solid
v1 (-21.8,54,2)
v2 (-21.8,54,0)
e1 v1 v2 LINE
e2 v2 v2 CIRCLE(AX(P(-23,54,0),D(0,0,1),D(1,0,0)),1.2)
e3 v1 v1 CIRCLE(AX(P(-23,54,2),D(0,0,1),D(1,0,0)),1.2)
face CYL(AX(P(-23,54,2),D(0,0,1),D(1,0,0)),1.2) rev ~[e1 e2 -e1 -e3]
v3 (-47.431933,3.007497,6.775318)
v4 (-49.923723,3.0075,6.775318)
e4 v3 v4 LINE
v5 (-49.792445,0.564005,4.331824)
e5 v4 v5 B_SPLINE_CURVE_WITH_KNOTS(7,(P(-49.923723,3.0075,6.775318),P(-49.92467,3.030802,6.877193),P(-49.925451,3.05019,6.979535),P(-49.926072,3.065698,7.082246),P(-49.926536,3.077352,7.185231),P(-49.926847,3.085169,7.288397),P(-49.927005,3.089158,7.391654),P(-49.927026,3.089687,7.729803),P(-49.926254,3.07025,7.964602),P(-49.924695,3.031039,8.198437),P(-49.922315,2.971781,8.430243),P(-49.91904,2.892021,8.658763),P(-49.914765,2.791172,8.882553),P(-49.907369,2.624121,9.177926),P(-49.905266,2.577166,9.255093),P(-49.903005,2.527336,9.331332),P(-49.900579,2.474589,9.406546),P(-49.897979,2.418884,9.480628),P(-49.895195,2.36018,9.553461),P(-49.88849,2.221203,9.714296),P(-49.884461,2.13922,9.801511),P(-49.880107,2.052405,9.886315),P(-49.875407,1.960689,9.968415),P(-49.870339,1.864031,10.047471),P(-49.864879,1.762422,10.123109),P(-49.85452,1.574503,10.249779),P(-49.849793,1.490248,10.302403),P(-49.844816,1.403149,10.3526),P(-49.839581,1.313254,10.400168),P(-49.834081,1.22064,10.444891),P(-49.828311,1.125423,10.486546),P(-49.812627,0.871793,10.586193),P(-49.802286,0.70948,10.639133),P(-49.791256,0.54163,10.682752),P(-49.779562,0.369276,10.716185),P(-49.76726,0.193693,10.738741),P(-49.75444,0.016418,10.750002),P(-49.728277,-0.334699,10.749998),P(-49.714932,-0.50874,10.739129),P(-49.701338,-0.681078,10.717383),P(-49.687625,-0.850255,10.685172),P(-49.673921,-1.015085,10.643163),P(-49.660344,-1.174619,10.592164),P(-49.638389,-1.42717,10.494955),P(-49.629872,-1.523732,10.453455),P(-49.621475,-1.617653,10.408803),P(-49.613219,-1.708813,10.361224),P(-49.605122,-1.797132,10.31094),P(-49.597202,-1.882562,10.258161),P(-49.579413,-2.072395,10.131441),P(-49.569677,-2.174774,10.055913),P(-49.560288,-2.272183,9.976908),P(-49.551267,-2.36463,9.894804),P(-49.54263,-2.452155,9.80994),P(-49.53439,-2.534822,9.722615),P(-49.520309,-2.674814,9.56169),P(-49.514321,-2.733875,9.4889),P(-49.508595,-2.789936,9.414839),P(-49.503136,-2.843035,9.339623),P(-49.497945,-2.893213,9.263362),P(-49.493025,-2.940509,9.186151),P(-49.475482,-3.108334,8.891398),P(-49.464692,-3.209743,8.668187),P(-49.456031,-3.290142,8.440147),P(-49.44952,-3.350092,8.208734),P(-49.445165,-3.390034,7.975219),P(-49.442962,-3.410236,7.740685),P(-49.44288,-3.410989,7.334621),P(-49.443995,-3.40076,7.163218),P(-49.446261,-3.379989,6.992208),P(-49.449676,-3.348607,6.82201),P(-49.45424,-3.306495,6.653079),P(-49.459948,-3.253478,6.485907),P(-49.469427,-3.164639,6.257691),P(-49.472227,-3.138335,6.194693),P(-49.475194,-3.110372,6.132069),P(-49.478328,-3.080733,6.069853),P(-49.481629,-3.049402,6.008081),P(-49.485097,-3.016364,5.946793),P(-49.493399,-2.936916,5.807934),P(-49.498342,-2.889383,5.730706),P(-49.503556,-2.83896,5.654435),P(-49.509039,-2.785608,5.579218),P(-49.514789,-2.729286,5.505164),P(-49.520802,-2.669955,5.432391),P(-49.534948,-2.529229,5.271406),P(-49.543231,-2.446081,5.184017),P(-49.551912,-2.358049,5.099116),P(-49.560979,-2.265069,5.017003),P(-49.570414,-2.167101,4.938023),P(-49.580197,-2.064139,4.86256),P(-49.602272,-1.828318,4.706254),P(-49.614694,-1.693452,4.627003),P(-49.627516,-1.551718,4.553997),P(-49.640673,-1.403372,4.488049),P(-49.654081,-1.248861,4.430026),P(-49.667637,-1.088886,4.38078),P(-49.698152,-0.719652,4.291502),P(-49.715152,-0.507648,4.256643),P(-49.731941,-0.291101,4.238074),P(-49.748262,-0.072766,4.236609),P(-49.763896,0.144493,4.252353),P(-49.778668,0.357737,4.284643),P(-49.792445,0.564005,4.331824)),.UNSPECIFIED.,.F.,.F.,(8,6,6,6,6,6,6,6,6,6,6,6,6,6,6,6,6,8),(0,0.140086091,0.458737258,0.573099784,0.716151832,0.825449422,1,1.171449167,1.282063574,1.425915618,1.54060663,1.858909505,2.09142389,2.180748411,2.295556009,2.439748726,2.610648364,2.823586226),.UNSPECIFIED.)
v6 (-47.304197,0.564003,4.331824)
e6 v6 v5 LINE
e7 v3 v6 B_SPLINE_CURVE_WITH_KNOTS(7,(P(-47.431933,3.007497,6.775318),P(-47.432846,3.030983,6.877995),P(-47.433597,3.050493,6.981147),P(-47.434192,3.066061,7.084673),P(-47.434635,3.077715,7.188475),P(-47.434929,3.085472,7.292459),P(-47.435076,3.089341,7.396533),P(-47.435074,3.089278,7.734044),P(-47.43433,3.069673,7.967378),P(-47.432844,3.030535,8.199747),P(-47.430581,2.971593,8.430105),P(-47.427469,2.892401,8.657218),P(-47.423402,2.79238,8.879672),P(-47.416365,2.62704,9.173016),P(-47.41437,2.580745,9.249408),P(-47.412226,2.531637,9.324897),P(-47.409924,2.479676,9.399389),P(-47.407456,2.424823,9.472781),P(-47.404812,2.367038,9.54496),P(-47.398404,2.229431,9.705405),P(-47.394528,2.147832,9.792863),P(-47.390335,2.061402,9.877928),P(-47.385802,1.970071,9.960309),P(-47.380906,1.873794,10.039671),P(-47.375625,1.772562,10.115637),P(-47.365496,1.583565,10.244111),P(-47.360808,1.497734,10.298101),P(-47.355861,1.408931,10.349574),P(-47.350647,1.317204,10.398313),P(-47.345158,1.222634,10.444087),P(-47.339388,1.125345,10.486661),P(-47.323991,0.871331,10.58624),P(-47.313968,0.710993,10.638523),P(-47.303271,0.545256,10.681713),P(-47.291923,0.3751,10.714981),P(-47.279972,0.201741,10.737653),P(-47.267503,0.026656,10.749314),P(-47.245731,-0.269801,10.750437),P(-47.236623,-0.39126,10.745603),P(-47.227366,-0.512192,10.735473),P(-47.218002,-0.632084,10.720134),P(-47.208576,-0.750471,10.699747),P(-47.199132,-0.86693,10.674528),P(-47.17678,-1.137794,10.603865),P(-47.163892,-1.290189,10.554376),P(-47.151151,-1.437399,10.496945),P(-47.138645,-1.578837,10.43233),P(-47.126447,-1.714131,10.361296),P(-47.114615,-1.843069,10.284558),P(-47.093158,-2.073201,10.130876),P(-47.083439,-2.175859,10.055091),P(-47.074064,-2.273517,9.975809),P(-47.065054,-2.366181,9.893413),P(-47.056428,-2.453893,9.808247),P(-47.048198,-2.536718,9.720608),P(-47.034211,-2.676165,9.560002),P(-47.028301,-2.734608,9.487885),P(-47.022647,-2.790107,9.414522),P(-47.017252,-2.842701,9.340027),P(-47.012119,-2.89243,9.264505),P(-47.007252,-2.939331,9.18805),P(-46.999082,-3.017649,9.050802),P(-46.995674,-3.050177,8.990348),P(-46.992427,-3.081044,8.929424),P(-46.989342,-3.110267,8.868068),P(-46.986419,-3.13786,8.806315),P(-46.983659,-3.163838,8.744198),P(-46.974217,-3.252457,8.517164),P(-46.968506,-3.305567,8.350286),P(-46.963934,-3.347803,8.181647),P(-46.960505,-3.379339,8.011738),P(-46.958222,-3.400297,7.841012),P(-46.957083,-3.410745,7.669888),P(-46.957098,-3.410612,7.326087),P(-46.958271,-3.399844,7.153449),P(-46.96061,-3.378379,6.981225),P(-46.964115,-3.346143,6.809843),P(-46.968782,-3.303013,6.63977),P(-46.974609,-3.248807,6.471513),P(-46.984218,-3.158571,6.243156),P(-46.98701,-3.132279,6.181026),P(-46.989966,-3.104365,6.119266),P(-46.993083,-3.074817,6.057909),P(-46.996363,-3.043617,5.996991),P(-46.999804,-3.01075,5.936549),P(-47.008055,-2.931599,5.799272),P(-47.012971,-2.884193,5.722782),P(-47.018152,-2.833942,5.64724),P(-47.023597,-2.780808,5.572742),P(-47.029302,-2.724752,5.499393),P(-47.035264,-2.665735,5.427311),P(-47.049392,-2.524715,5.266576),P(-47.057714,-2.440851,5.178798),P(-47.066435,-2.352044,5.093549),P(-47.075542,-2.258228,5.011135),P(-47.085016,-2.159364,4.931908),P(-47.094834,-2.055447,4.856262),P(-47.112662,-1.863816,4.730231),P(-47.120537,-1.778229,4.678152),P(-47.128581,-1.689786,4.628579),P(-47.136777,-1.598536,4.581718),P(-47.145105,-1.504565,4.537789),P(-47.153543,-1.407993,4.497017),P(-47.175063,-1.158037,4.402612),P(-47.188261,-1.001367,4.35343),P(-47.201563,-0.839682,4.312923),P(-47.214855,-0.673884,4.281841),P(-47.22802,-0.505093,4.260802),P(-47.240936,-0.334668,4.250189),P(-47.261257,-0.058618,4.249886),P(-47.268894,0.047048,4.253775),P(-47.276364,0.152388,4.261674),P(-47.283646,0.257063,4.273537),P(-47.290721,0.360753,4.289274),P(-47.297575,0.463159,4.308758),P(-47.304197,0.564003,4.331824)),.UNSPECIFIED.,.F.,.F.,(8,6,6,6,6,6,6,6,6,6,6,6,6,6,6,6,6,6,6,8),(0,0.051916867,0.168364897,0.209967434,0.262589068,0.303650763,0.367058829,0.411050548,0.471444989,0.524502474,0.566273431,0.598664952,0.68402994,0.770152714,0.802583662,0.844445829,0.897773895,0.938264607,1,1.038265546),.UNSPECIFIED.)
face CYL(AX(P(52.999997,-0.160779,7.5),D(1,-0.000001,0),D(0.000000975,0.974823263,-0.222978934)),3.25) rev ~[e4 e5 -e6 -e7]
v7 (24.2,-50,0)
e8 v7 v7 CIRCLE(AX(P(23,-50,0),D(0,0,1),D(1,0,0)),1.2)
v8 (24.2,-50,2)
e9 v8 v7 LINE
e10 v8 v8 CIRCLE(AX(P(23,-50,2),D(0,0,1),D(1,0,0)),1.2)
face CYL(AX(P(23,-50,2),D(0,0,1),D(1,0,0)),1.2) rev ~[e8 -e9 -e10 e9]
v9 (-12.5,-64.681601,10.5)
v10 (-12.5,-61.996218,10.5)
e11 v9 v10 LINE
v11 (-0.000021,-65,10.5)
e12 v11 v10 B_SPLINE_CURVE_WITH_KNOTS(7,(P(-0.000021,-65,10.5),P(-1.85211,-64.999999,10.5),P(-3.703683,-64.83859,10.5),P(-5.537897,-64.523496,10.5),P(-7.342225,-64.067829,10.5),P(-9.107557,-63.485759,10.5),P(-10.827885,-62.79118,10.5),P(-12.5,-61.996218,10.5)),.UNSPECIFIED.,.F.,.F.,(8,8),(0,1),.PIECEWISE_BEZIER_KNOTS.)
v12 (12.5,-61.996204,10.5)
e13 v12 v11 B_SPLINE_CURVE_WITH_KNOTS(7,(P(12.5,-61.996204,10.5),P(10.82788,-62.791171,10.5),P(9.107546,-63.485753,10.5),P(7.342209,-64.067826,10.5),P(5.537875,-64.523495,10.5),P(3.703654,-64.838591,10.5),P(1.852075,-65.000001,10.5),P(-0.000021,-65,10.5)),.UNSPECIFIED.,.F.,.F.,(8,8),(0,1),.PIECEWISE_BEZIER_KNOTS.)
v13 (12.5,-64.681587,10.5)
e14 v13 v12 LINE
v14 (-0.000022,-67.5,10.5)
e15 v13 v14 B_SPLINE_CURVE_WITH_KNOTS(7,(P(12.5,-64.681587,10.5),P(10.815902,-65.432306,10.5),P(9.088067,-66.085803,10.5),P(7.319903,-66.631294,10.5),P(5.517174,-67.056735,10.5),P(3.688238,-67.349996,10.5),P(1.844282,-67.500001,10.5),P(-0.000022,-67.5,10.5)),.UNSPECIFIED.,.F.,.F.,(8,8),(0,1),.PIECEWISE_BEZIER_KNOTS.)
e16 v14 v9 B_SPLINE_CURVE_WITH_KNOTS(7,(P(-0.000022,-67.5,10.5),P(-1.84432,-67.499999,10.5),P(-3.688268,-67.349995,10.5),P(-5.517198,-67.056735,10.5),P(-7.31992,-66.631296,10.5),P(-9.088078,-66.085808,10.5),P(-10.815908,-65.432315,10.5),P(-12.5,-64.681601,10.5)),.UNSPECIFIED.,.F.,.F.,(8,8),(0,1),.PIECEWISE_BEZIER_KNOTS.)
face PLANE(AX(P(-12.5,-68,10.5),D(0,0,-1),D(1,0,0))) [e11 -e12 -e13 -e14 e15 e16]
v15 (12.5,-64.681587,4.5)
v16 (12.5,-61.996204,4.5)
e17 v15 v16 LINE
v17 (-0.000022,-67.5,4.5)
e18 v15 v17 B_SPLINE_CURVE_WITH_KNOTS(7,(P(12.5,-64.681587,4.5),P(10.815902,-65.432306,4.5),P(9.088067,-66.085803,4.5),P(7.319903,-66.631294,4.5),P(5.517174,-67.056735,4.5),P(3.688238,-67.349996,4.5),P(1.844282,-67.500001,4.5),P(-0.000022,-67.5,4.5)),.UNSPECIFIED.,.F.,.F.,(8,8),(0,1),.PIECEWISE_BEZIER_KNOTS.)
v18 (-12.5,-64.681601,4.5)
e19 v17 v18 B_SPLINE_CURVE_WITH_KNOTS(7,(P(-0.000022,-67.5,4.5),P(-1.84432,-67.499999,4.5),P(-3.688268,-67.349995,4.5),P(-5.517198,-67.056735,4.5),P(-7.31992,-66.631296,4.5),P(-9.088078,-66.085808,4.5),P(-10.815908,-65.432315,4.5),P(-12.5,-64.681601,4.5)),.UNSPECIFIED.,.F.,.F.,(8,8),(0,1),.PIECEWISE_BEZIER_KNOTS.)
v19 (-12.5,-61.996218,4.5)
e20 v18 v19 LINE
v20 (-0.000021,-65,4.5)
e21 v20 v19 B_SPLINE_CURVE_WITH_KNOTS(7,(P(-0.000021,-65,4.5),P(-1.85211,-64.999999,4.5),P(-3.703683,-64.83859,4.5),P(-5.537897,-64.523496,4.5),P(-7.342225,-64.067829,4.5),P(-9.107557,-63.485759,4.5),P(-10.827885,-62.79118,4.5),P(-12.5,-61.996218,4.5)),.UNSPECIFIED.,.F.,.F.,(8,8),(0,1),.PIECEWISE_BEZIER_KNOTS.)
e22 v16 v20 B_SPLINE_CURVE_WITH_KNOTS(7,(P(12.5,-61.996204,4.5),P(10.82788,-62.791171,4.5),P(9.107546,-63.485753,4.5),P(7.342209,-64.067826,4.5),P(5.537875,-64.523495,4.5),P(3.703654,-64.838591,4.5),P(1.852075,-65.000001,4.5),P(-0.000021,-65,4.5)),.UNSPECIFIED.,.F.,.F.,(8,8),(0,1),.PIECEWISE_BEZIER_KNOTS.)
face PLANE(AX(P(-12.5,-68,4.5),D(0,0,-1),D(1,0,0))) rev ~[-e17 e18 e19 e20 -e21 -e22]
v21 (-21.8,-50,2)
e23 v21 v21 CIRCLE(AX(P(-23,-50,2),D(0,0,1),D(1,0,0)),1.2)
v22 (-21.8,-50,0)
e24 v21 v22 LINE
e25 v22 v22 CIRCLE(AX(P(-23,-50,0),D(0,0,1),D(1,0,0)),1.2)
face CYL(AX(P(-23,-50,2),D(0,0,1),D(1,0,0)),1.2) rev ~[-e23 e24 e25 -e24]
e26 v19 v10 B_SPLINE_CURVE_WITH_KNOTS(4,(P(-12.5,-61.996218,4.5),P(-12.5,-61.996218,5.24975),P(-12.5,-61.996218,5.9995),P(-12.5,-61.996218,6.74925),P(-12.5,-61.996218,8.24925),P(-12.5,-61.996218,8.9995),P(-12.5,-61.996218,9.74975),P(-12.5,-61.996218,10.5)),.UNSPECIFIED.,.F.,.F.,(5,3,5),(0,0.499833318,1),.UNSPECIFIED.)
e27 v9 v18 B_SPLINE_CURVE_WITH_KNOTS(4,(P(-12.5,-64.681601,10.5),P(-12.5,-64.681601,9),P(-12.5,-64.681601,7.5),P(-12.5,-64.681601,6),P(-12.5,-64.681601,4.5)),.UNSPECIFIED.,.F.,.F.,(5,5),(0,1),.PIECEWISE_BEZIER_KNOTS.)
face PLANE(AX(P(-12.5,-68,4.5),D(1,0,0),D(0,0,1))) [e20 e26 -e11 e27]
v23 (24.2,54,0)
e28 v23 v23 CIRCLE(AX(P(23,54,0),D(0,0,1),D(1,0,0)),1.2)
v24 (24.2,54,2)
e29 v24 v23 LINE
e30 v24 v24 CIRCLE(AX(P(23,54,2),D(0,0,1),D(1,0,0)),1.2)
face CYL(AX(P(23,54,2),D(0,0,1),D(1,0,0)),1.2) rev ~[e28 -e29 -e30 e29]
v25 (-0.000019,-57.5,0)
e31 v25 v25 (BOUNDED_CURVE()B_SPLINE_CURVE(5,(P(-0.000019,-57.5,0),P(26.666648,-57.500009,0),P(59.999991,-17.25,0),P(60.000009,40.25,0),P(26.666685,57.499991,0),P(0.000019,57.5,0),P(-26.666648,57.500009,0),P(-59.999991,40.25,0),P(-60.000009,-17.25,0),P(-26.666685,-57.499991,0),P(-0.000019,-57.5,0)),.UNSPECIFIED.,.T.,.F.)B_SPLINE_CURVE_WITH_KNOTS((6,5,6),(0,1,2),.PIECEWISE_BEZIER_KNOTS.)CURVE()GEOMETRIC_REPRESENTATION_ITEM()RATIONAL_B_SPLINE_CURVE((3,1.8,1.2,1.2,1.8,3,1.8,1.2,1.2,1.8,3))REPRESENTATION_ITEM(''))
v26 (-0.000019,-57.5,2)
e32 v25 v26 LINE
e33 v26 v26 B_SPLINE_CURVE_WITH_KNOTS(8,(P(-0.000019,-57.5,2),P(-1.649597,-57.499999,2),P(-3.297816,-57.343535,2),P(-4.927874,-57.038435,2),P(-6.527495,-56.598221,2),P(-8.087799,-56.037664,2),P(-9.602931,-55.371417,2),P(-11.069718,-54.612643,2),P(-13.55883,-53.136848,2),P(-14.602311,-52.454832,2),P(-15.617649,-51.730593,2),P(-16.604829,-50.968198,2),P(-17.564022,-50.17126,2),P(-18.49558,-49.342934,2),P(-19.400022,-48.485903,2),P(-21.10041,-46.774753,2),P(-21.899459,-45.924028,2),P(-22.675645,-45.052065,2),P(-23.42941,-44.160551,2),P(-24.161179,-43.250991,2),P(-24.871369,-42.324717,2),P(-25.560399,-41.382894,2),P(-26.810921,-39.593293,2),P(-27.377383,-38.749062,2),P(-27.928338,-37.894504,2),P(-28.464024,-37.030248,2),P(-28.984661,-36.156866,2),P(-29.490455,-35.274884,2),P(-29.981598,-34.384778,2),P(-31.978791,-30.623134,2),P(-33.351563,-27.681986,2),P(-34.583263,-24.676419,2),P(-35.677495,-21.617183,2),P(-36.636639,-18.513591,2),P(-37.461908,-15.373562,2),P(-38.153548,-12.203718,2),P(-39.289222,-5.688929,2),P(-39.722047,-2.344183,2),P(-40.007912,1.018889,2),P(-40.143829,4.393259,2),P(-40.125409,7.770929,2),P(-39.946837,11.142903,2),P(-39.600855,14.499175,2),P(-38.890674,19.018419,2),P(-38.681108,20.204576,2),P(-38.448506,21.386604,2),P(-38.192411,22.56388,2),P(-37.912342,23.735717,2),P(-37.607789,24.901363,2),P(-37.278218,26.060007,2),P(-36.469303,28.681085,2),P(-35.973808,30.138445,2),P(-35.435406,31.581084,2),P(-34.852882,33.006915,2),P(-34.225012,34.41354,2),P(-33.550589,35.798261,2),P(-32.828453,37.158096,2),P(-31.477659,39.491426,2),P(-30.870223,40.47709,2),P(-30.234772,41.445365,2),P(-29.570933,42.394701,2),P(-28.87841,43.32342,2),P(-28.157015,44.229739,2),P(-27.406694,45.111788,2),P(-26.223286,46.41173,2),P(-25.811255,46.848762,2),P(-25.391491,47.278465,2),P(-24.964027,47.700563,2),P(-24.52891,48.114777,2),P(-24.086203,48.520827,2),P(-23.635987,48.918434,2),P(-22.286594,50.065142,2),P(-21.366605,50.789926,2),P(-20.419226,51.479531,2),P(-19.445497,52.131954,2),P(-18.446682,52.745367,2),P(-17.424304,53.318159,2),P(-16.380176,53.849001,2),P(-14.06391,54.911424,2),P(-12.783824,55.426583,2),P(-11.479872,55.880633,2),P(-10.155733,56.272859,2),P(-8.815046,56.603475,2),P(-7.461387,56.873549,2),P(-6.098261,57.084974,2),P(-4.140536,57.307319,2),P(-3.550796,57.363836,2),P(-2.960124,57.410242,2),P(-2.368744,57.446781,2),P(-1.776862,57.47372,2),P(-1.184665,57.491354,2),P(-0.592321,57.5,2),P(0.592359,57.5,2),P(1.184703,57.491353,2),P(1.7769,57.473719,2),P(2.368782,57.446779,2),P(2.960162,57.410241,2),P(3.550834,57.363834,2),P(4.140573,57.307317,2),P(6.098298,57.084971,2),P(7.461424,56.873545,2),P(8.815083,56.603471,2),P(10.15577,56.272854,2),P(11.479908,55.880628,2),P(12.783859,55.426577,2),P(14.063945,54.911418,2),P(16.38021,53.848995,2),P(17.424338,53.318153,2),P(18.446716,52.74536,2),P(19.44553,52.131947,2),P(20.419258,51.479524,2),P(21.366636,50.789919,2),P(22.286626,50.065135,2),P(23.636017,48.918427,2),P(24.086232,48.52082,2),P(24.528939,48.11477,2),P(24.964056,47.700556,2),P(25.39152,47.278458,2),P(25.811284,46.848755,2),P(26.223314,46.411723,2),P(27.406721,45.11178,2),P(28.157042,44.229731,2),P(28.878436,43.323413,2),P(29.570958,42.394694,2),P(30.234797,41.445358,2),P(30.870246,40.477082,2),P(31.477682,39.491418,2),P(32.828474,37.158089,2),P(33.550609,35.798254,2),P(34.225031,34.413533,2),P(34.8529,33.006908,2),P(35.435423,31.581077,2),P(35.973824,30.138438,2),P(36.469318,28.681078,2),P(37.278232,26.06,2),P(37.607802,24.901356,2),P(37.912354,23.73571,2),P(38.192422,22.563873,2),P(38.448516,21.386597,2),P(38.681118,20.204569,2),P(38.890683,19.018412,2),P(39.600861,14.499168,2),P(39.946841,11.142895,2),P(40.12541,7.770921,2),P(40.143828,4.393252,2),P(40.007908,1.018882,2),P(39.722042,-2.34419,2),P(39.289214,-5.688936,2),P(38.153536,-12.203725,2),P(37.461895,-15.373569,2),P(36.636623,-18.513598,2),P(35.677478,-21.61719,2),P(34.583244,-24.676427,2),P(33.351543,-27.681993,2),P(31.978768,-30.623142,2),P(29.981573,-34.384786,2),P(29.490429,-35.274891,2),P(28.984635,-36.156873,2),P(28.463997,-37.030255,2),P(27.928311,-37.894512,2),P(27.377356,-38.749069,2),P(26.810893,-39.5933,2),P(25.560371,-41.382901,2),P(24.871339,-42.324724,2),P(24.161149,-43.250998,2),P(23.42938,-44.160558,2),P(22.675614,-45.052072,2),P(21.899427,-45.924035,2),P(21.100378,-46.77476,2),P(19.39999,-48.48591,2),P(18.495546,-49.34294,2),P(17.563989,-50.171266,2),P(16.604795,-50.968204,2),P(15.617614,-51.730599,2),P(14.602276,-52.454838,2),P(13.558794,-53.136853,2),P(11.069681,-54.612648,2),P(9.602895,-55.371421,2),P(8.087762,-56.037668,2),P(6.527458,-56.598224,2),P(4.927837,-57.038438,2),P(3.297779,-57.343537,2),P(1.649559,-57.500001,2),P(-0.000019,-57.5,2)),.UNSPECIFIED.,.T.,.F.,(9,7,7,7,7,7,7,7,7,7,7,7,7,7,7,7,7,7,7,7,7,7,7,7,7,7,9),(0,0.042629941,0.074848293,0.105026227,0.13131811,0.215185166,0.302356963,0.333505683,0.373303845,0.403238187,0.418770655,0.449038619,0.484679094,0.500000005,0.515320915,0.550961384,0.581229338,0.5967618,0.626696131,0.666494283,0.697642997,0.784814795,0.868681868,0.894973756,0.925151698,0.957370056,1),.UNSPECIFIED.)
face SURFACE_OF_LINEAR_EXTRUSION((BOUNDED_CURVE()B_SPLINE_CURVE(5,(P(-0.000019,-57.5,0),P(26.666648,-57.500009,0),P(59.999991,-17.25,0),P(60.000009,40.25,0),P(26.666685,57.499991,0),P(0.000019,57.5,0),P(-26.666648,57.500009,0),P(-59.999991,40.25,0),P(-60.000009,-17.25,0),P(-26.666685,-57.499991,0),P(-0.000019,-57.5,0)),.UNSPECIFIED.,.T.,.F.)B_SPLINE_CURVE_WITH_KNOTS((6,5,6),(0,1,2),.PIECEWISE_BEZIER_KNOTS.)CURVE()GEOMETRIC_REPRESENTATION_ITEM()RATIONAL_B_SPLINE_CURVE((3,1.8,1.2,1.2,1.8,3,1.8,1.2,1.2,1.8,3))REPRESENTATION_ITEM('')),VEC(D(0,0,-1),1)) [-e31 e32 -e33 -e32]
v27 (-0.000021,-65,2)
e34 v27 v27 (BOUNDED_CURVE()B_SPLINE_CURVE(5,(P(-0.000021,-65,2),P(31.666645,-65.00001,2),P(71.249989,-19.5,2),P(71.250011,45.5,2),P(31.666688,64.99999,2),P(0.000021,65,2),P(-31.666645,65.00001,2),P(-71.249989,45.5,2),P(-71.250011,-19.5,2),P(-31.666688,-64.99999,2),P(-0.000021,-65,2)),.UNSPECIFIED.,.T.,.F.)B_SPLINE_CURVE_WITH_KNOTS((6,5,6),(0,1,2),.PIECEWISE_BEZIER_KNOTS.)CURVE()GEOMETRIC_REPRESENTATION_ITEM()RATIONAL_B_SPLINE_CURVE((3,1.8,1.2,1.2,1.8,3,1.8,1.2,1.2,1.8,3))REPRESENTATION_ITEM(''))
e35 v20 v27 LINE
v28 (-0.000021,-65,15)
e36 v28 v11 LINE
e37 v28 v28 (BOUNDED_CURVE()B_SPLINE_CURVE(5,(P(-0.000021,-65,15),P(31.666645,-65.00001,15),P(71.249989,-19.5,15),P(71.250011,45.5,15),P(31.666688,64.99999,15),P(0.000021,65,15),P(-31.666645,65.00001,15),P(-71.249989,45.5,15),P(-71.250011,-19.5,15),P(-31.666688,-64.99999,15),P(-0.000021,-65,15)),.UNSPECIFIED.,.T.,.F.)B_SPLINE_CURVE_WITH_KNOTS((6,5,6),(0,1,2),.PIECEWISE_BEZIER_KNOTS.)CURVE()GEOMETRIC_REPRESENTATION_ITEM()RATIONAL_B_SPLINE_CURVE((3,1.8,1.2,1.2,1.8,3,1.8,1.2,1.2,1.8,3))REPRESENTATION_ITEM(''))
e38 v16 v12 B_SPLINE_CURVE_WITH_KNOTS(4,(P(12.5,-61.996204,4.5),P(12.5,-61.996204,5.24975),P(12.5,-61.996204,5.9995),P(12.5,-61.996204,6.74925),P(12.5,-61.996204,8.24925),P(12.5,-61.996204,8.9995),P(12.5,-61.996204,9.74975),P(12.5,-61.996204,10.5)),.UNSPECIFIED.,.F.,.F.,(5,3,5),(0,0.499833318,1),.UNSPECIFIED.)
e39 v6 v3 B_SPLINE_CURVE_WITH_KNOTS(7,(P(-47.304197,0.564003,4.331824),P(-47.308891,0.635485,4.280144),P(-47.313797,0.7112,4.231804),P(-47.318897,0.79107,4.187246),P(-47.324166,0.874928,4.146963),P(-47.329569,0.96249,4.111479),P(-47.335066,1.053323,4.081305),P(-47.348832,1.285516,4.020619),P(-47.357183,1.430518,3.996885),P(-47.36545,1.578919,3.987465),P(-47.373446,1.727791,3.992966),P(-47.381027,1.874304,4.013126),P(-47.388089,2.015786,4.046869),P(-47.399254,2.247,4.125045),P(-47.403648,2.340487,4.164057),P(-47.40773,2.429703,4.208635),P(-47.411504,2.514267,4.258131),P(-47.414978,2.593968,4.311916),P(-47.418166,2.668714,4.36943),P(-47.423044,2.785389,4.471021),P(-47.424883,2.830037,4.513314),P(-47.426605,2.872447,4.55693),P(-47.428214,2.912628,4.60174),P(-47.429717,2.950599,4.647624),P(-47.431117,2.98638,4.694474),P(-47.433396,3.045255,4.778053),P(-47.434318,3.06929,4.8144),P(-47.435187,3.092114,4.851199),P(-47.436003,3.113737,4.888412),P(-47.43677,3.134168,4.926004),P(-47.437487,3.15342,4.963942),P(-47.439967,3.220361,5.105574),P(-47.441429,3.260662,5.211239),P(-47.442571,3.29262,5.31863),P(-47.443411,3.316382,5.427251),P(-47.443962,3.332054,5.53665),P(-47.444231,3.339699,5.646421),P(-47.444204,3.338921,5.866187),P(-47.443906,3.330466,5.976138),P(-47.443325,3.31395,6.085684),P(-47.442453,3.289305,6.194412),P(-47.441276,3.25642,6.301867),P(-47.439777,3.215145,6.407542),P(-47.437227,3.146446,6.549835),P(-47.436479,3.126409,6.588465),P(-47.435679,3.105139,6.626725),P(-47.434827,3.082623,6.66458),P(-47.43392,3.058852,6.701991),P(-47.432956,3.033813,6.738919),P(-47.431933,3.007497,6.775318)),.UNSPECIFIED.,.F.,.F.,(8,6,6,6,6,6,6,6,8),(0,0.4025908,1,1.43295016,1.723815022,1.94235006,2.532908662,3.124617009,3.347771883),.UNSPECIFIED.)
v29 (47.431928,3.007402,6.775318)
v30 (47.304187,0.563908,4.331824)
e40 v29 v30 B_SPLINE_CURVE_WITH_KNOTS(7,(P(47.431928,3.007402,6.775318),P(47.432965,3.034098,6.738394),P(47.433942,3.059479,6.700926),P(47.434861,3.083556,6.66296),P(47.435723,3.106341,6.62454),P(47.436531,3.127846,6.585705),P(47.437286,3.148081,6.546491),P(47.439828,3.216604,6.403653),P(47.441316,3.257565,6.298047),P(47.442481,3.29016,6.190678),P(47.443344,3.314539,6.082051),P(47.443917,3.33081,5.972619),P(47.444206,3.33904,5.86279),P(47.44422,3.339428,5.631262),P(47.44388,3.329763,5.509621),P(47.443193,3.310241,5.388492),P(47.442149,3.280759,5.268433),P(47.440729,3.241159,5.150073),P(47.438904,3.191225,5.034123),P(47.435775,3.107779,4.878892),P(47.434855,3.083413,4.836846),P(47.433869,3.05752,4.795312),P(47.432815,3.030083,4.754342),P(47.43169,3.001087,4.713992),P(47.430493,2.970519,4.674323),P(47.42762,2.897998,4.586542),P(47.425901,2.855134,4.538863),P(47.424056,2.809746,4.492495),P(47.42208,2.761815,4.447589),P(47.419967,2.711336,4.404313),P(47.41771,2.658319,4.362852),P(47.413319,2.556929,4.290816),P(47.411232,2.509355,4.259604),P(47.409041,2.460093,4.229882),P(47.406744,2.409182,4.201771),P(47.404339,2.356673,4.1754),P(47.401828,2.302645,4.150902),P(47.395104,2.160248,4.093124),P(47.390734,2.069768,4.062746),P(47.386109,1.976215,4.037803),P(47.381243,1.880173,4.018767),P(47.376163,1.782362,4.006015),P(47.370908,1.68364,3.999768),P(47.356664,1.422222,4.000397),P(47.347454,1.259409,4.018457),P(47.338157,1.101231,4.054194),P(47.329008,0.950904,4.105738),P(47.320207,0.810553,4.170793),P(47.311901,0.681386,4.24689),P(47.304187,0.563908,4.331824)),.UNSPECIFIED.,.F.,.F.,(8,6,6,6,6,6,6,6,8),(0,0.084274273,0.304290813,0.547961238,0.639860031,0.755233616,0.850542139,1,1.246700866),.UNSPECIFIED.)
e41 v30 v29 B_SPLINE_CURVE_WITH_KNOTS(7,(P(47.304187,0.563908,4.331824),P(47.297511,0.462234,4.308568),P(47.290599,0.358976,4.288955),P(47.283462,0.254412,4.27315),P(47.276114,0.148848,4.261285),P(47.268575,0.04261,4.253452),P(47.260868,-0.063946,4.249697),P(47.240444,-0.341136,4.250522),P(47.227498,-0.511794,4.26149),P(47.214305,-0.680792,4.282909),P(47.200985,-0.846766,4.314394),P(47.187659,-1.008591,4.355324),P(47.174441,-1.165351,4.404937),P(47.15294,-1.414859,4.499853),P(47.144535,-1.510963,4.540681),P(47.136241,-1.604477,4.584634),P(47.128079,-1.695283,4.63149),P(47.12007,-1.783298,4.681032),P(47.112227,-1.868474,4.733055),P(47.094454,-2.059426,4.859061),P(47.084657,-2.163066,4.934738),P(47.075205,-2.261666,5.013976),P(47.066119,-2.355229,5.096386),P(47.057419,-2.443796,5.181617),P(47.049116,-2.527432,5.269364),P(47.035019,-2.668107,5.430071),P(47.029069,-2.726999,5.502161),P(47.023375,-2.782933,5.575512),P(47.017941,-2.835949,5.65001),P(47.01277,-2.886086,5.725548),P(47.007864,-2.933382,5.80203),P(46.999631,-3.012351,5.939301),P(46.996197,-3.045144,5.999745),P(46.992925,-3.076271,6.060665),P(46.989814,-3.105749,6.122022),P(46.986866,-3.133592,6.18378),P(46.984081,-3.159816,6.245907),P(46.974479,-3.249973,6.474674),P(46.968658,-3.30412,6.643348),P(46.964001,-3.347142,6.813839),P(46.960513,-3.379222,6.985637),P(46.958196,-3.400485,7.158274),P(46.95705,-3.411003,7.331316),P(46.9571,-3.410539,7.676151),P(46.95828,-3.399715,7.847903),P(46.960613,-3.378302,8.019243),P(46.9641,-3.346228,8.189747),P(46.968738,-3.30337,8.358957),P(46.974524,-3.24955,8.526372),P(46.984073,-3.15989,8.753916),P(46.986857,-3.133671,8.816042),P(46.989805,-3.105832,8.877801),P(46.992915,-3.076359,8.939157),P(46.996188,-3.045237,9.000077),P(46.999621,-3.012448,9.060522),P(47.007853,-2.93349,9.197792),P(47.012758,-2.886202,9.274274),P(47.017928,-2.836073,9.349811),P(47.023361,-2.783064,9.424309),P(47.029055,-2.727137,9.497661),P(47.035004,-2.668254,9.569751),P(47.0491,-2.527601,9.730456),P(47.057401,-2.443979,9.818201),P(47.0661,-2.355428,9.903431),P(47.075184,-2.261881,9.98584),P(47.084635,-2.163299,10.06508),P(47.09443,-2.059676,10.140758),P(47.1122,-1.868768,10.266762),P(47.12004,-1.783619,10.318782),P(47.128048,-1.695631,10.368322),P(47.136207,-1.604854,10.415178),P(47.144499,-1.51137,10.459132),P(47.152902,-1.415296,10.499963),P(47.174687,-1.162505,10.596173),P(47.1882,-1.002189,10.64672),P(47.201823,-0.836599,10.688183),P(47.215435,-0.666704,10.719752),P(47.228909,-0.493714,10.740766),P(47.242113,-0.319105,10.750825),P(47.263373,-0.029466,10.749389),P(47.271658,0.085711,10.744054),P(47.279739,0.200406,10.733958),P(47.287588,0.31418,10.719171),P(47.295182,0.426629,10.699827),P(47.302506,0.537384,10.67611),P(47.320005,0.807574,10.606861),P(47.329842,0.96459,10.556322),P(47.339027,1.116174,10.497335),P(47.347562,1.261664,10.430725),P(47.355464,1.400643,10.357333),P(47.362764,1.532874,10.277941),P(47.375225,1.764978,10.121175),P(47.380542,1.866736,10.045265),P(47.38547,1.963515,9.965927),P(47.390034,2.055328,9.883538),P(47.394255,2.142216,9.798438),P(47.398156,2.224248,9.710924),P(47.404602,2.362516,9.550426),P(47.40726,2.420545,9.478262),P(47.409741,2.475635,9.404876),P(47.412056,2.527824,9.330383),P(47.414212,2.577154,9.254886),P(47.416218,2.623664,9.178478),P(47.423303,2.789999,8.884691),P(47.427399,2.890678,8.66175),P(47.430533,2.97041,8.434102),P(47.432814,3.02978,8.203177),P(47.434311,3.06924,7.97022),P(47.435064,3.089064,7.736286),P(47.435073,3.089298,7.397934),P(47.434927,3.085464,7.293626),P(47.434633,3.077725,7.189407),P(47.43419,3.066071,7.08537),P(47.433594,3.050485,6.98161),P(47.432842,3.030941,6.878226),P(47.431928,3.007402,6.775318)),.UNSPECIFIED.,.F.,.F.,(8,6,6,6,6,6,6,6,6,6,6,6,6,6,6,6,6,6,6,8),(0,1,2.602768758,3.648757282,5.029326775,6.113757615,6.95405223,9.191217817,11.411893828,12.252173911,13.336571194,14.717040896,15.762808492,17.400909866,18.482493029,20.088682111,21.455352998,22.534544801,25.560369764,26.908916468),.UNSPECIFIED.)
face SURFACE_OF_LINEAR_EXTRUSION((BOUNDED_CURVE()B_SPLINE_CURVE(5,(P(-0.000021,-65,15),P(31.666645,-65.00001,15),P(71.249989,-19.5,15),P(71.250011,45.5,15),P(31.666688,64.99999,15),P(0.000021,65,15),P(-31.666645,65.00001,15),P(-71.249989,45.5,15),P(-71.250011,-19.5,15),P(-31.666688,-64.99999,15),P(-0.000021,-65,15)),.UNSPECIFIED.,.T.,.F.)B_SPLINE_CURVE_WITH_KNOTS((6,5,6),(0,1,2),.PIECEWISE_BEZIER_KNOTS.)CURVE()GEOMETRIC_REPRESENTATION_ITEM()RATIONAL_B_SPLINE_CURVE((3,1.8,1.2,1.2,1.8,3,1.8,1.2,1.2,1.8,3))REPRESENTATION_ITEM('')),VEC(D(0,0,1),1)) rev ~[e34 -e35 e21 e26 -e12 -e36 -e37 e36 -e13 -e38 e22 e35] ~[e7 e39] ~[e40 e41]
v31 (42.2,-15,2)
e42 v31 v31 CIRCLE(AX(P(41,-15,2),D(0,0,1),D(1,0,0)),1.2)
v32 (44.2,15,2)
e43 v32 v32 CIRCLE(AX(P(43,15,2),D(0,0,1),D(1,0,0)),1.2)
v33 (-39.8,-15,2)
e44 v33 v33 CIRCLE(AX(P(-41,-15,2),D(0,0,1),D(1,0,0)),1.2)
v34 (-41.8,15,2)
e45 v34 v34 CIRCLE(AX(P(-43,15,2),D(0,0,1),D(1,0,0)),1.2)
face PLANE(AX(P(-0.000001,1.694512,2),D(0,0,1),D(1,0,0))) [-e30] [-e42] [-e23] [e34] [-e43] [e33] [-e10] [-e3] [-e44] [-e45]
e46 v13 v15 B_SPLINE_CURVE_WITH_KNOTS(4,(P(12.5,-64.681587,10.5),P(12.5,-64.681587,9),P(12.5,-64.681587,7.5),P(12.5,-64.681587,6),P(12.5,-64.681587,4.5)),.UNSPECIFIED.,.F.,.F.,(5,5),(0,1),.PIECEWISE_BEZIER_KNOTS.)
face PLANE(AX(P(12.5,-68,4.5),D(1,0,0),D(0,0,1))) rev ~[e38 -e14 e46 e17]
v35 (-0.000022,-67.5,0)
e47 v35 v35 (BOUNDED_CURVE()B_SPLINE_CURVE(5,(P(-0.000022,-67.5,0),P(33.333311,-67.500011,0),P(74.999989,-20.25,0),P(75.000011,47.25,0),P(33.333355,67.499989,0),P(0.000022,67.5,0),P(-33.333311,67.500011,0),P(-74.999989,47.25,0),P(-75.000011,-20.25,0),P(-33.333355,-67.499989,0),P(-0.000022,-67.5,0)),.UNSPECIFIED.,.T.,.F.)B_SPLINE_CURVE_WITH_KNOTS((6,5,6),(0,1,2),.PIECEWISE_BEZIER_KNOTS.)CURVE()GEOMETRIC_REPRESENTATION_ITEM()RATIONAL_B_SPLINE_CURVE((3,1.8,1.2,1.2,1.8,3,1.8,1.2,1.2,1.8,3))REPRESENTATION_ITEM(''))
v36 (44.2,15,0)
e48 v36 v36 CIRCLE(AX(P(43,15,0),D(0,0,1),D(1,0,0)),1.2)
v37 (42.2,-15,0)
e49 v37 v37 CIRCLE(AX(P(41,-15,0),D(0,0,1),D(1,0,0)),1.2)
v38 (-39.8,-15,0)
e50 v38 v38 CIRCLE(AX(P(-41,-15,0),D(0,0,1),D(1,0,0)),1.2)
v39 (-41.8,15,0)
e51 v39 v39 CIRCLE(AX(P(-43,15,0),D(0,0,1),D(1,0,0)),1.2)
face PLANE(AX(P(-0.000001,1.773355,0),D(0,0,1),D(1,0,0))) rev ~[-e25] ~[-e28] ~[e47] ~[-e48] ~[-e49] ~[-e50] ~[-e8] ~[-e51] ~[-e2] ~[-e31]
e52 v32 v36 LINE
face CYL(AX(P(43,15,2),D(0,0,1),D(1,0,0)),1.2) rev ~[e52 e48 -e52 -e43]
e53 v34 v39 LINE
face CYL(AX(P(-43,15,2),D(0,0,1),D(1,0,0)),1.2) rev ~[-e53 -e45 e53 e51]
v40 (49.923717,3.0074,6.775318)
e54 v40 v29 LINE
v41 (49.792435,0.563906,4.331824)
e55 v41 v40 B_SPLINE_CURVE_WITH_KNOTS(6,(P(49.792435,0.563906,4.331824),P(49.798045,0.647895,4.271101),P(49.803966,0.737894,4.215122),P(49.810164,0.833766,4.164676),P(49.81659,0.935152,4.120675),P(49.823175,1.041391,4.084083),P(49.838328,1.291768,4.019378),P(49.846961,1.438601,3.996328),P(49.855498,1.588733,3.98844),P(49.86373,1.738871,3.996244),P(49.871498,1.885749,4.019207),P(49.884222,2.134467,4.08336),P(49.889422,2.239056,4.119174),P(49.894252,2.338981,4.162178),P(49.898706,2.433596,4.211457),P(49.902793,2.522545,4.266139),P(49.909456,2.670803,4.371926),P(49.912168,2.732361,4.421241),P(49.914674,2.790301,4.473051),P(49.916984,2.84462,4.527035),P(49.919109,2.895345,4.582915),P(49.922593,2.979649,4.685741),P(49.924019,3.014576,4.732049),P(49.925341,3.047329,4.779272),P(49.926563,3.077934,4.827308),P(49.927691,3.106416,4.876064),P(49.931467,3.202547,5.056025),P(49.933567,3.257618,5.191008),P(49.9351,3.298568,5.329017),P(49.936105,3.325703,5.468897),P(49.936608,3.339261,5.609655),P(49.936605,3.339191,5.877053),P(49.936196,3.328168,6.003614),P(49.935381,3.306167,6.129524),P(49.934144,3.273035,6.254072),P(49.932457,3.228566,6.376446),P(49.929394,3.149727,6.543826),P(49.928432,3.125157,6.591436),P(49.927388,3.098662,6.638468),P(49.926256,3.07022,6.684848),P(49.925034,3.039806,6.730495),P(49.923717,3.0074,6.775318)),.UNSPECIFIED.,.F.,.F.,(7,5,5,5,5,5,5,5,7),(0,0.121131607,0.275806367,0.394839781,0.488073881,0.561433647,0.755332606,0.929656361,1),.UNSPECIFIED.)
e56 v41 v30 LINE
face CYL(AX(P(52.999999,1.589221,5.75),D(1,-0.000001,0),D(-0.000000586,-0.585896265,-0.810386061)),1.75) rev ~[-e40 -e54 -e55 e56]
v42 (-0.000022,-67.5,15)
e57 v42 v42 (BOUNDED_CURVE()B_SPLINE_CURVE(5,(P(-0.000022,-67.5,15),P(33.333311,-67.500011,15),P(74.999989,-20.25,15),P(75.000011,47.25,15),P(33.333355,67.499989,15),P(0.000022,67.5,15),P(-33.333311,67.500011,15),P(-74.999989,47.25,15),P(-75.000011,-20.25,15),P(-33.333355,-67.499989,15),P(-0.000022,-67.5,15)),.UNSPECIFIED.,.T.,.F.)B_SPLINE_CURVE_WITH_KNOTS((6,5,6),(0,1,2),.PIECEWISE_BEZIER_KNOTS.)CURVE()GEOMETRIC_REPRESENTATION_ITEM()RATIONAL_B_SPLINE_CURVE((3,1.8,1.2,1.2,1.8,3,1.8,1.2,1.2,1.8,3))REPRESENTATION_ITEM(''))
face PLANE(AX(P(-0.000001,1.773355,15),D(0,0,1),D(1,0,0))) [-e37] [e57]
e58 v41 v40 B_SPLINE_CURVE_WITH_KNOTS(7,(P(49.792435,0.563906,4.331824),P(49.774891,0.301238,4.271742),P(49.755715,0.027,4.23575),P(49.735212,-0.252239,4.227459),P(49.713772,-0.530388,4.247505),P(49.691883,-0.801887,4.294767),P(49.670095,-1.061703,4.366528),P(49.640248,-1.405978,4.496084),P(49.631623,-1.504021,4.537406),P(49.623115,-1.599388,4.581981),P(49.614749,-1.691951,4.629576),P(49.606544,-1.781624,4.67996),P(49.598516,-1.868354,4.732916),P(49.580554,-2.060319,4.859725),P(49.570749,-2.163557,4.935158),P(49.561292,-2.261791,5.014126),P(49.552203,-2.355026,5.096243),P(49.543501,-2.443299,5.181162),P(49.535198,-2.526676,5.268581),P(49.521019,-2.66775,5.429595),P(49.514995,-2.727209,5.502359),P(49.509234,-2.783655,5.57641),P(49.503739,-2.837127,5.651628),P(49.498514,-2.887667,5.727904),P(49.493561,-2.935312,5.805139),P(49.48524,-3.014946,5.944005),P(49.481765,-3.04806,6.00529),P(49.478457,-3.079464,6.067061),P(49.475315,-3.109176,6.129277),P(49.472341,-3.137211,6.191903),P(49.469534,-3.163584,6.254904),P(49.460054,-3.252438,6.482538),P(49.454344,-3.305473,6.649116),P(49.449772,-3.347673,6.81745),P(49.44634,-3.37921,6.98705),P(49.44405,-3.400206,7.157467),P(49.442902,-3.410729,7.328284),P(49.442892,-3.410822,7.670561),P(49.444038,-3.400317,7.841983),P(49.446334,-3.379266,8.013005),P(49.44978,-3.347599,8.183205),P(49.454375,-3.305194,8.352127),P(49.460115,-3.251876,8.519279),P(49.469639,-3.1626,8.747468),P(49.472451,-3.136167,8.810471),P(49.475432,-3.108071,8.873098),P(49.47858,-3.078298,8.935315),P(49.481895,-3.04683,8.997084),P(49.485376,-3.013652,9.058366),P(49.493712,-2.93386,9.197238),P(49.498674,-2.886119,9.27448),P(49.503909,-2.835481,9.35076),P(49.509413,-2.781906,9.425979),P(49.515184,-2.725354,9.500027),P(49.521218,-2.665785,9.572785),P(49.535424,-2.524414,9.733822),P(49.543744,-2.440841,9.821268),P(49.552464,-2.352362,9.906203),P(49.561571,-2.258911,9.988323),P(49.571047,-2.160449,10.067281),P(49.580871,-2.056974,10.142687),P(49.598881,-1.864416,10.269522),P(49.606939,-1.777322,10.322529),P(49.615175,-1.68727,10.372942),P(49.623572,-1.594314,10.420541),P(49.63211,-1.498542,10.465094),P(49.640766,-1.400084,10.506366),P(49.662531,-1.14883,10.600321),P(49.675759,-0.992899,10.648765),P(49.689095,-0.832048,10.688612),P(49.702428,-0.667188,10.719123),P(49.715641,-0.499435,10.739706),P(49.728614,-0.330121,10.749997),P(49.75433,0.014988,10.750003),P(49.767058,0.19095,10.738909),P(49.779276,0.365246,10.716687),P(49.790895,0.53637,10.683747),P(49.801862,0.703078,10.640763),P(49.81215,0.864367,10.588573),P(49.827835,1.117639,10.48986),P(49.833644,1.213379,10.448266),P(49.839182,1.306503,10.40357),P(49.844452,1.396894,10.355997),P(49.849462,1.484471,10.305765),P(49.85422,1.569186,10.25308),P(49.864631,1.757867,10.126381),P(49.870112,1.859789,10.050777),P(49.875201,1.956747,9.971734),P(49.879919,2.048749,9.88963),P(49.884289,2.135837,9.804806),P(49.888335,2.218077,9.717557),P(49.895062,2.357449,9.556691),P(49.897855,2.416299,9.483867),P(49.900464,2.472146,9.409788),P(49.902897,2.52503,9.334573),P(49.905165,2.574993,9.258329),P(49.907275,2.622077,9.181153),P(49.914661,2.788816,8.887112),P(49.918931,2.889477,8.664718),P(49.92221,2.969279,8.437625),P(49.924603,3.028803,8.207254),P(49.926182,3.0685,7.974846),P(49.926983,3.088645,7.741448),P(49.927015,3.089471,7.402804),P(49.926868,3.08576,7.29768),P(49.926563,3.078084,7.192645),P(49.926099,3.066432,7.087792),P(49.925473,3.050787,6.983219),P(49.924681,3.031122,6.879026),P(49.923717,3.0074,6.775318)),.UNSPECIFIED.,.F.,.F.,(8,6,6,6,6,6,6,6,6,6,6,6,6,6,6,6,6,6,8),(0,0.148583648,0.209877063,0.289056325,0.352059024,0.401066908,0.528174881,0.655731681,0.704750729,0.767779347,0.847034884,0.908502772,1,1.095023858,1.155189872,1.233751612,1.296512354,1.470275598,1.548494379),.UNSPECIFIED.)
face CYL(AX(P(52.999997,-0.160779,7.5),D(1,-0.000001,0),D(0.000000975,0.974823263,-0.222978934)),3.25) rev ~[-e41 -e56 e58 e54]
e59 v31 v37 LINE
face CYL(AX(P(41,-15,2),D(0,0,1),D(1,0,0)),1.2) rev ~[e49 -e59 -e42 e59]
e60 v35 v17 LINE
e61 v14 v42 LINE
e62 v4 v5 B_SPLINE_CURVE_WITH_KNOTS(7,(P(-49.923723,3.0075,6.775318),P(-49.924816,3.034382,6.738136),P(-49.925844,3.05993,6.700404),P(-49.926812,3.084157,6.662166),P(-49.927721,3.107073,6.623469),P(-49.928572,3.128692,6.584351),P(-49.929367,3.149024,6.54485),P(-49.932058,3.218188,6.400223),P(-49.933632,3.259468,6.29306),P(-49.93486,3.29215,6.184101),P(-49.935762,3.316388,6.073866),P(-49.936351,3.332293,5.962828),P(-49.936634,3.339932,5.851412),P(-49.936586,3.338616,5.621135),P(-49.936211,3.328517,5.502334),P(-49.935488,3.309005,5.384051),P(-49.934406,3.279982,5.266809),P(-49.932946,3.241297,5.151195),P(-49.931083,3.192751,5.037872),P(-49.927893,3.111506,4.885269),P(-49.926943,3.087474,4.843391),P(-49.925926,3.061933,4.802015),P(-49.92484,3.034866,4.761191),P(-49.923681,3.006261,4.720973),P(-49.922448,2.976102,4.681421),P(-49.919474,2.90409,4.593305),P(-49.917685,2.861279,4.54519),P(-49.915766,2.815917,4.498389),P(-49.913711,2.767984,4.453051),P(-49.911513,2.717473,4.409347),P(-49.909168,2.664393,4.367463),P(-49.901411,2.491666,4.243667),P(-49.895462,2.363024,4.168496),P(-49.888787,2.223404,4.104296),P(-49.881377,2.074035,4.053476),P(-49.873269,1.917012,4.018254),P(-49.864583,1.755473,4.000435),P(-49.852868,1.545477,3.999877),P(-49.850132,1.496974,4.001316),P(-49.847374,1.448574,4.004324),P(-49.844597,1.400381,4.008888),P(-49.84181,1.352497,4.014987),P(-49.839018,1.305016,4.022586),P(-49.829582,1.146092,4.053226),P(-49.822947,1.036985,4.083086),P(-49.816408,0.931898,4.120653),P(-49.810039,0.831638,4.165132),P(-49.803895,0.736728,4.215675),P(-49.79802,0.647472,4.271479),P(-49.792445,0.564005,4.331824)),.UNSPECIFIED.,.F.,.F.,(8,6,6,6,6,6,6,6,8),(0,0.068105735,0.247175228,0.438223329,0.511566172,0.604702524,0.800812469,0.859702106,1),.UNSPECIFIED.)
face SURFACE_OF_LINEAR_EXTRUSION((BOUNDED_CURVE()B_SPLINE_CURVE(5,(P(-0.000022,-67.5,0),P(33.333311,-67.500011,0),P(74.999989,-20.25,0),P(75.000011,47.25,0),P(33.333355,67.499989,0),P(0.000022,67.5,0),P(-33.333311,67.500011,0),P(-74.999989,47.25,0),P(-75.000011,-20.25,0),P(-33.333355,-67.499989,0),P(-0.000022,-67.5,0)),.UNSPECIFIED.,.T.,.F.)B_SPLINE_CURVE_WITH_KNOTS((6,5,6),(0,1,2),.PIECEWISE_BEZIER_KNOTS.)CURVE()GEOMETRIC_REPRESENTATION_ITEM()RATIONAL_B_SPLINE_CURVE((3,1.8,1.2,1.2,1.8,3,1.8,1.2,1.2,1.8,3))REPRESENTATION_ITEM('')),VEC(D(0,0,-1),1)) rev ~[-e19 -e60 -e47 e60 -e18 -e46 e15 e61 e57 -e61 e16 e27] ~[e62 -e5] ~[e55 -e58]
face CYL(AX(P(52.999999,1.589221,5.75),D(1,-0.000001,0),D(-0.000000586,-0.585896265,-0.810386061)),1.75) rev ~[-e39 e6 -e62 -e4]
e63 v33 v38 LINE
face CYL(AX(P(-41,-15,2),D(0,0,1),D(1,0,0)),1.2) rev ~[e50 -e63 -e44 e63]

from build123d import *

# Parameters (mm, degrees)
PAD_DEPTH       = 15
POCKET_DEPTH    = 13
SKETCH002_R     = 1.2
HOLE_DEPTH      = 25
SKETCH003_R     = 3.25
SKETCH003_R_2   = 1.75
POCKET001_DEPTH = 103.001035
SKETCH020_W     = 25
SKETCH020_H     = 6
POCKET009_DEPTH = 10


with BuildPart() as part:
    # Sketch → Pad (new body)
    with BuildSketch(Plane.XY):
        with BuildLine():
            add(Edge.make_bspline(
                [(-2.2e-05, -67.5), (33.333311, -67.500011), (74.999989, -20.25), (75.000011, 47.25), (33.333355, 67.499989), (2.2e-05, 67.5), (-33.333311, 67.500011), (-74.999989, 47.25), (-75.000011, -20.25), (-33.333355, -67.499989), (-2.2e-05, -67.5)],
                knots=[0, 0, 0, 0, 0, 0, 1, 1, 1, 1, 1, 2, 2, 2, 2, 2, 2], degree=5, weights=[3, 1.8, 1.2, 1.2, 1.8, 3, 1.8, 1.2, 1.2, 1.8, 3]))
        make_face()
        with BuildLine():
            add(Edge.make_bspline(
                [(-1.9e-05, -57.5), (26.666648, -57.500009), (59.999991, -17.25), (60.000009, 40.25), (26.666685, 57.499991), (1.9e-05, 57.5), (-26.666648, 57.500009), (-59.999991, 40.25), (-60.000009, -17.25), (-26.666685, -57.499991), (-1.9e-05, -57.5)],
                knots=[0, 0, 0, 0, 0, 0, 1, 1, 1, 1, 1, 2, 2, 2, 2, 2, 2], degree=5, weights=[3, 1.8, 1.2, 1.2, 1.8, 3, 1.8, 1.2, 1.2, 1.8, 3]))
        make_face(mode=Mode.SUBTRACT)
    extrude(amount=PAD_DEPTH)

    # Sketch001 (on Face4 of Pad) → Pocket (cut)
    with BuildSketch(Plane.XY.offset(15)):
        with BuildLine():
            add(Edge.make_bspline(
                [(-2.1e-05, -65), (31.666645, -65.00001), (71.249989, -19.5), (71.250011, 45.5), (31.666688, 64.99999), (2.1e-05, 65), (-31.666645, 65.00001), (-71.249989, 45.5), (-71.250011, -19.5), (-31.666688, -64.99999), (-2.1e-05, -65)],
                knots=[0, 0, 0, 0, 0, 0, 1, 1, 1, 1, 1, 2, 2, 2, 2, 2, 2], degree=5, weights=[3, 1.8, 1.2, 1.2, 1.8, 3, 1.8, 1.2, 1.2, 1.8, 3]))
        make_face()
    extrude(amount=-POCKET_DEPTH, mode=Mode.SUBTRACT)

    # Sketch002 (on Face6 of Pocket) → Hole (cut)
    with BuildSketch(Plane.XY.offset(2)):
        with Locations((-41, -15)):
            Circle(SKETCH002_R)
        with Locations((41, -15)):
            Circle(SKETCH002_R)
        with Locations((-23, -50)):
            Circle(SKETCH002_R)
        with Locations((23, -50)):
            Circle(SKETCH002_R)
        with Locations((-43, 15)):
            Circle(SKETCH002_R)
        with Locations((43, 15)):
            Circle(SKETCH002_R)
        with Locations((-23, 54)):
            Circle(SKETCH002_R)
        with Locations((23, 54)):
            Circle(SKETCH002_R)
    extrude(amount=-HOLE_DEPTH, mode=Mode.SUBTRACT)

    # Sketch003 (on DatumPlane) → Pocket001 (cut, through all)
    with BuildSketch(Plane(origin=(52.999999, 1.839221, 7.5), x_dir=(0, 0, -1), z_dir=(1, -1e-06, 0))):
        with Locations((0, -2)):
            Circle(SKETCH003_R)
        with Locations((1.75, -0.25)):
            Circle(SKETCH003_R_2)
    extrude(amount=-POCKET001_DEPTH, mode=Mode.SUBTRACT)

    # Sketch020 → Pocket009 (cut)
    with BuildSketch(Plane.XZ.offset(68)):
        with Locations((0, 7.5)):
            Rectangle(SKETCH020_W, SKETCH020_H)
    extrude(amount=-POCKET009_DEPTH, mode=Mode.SUBTRACT)


solid = part.part
